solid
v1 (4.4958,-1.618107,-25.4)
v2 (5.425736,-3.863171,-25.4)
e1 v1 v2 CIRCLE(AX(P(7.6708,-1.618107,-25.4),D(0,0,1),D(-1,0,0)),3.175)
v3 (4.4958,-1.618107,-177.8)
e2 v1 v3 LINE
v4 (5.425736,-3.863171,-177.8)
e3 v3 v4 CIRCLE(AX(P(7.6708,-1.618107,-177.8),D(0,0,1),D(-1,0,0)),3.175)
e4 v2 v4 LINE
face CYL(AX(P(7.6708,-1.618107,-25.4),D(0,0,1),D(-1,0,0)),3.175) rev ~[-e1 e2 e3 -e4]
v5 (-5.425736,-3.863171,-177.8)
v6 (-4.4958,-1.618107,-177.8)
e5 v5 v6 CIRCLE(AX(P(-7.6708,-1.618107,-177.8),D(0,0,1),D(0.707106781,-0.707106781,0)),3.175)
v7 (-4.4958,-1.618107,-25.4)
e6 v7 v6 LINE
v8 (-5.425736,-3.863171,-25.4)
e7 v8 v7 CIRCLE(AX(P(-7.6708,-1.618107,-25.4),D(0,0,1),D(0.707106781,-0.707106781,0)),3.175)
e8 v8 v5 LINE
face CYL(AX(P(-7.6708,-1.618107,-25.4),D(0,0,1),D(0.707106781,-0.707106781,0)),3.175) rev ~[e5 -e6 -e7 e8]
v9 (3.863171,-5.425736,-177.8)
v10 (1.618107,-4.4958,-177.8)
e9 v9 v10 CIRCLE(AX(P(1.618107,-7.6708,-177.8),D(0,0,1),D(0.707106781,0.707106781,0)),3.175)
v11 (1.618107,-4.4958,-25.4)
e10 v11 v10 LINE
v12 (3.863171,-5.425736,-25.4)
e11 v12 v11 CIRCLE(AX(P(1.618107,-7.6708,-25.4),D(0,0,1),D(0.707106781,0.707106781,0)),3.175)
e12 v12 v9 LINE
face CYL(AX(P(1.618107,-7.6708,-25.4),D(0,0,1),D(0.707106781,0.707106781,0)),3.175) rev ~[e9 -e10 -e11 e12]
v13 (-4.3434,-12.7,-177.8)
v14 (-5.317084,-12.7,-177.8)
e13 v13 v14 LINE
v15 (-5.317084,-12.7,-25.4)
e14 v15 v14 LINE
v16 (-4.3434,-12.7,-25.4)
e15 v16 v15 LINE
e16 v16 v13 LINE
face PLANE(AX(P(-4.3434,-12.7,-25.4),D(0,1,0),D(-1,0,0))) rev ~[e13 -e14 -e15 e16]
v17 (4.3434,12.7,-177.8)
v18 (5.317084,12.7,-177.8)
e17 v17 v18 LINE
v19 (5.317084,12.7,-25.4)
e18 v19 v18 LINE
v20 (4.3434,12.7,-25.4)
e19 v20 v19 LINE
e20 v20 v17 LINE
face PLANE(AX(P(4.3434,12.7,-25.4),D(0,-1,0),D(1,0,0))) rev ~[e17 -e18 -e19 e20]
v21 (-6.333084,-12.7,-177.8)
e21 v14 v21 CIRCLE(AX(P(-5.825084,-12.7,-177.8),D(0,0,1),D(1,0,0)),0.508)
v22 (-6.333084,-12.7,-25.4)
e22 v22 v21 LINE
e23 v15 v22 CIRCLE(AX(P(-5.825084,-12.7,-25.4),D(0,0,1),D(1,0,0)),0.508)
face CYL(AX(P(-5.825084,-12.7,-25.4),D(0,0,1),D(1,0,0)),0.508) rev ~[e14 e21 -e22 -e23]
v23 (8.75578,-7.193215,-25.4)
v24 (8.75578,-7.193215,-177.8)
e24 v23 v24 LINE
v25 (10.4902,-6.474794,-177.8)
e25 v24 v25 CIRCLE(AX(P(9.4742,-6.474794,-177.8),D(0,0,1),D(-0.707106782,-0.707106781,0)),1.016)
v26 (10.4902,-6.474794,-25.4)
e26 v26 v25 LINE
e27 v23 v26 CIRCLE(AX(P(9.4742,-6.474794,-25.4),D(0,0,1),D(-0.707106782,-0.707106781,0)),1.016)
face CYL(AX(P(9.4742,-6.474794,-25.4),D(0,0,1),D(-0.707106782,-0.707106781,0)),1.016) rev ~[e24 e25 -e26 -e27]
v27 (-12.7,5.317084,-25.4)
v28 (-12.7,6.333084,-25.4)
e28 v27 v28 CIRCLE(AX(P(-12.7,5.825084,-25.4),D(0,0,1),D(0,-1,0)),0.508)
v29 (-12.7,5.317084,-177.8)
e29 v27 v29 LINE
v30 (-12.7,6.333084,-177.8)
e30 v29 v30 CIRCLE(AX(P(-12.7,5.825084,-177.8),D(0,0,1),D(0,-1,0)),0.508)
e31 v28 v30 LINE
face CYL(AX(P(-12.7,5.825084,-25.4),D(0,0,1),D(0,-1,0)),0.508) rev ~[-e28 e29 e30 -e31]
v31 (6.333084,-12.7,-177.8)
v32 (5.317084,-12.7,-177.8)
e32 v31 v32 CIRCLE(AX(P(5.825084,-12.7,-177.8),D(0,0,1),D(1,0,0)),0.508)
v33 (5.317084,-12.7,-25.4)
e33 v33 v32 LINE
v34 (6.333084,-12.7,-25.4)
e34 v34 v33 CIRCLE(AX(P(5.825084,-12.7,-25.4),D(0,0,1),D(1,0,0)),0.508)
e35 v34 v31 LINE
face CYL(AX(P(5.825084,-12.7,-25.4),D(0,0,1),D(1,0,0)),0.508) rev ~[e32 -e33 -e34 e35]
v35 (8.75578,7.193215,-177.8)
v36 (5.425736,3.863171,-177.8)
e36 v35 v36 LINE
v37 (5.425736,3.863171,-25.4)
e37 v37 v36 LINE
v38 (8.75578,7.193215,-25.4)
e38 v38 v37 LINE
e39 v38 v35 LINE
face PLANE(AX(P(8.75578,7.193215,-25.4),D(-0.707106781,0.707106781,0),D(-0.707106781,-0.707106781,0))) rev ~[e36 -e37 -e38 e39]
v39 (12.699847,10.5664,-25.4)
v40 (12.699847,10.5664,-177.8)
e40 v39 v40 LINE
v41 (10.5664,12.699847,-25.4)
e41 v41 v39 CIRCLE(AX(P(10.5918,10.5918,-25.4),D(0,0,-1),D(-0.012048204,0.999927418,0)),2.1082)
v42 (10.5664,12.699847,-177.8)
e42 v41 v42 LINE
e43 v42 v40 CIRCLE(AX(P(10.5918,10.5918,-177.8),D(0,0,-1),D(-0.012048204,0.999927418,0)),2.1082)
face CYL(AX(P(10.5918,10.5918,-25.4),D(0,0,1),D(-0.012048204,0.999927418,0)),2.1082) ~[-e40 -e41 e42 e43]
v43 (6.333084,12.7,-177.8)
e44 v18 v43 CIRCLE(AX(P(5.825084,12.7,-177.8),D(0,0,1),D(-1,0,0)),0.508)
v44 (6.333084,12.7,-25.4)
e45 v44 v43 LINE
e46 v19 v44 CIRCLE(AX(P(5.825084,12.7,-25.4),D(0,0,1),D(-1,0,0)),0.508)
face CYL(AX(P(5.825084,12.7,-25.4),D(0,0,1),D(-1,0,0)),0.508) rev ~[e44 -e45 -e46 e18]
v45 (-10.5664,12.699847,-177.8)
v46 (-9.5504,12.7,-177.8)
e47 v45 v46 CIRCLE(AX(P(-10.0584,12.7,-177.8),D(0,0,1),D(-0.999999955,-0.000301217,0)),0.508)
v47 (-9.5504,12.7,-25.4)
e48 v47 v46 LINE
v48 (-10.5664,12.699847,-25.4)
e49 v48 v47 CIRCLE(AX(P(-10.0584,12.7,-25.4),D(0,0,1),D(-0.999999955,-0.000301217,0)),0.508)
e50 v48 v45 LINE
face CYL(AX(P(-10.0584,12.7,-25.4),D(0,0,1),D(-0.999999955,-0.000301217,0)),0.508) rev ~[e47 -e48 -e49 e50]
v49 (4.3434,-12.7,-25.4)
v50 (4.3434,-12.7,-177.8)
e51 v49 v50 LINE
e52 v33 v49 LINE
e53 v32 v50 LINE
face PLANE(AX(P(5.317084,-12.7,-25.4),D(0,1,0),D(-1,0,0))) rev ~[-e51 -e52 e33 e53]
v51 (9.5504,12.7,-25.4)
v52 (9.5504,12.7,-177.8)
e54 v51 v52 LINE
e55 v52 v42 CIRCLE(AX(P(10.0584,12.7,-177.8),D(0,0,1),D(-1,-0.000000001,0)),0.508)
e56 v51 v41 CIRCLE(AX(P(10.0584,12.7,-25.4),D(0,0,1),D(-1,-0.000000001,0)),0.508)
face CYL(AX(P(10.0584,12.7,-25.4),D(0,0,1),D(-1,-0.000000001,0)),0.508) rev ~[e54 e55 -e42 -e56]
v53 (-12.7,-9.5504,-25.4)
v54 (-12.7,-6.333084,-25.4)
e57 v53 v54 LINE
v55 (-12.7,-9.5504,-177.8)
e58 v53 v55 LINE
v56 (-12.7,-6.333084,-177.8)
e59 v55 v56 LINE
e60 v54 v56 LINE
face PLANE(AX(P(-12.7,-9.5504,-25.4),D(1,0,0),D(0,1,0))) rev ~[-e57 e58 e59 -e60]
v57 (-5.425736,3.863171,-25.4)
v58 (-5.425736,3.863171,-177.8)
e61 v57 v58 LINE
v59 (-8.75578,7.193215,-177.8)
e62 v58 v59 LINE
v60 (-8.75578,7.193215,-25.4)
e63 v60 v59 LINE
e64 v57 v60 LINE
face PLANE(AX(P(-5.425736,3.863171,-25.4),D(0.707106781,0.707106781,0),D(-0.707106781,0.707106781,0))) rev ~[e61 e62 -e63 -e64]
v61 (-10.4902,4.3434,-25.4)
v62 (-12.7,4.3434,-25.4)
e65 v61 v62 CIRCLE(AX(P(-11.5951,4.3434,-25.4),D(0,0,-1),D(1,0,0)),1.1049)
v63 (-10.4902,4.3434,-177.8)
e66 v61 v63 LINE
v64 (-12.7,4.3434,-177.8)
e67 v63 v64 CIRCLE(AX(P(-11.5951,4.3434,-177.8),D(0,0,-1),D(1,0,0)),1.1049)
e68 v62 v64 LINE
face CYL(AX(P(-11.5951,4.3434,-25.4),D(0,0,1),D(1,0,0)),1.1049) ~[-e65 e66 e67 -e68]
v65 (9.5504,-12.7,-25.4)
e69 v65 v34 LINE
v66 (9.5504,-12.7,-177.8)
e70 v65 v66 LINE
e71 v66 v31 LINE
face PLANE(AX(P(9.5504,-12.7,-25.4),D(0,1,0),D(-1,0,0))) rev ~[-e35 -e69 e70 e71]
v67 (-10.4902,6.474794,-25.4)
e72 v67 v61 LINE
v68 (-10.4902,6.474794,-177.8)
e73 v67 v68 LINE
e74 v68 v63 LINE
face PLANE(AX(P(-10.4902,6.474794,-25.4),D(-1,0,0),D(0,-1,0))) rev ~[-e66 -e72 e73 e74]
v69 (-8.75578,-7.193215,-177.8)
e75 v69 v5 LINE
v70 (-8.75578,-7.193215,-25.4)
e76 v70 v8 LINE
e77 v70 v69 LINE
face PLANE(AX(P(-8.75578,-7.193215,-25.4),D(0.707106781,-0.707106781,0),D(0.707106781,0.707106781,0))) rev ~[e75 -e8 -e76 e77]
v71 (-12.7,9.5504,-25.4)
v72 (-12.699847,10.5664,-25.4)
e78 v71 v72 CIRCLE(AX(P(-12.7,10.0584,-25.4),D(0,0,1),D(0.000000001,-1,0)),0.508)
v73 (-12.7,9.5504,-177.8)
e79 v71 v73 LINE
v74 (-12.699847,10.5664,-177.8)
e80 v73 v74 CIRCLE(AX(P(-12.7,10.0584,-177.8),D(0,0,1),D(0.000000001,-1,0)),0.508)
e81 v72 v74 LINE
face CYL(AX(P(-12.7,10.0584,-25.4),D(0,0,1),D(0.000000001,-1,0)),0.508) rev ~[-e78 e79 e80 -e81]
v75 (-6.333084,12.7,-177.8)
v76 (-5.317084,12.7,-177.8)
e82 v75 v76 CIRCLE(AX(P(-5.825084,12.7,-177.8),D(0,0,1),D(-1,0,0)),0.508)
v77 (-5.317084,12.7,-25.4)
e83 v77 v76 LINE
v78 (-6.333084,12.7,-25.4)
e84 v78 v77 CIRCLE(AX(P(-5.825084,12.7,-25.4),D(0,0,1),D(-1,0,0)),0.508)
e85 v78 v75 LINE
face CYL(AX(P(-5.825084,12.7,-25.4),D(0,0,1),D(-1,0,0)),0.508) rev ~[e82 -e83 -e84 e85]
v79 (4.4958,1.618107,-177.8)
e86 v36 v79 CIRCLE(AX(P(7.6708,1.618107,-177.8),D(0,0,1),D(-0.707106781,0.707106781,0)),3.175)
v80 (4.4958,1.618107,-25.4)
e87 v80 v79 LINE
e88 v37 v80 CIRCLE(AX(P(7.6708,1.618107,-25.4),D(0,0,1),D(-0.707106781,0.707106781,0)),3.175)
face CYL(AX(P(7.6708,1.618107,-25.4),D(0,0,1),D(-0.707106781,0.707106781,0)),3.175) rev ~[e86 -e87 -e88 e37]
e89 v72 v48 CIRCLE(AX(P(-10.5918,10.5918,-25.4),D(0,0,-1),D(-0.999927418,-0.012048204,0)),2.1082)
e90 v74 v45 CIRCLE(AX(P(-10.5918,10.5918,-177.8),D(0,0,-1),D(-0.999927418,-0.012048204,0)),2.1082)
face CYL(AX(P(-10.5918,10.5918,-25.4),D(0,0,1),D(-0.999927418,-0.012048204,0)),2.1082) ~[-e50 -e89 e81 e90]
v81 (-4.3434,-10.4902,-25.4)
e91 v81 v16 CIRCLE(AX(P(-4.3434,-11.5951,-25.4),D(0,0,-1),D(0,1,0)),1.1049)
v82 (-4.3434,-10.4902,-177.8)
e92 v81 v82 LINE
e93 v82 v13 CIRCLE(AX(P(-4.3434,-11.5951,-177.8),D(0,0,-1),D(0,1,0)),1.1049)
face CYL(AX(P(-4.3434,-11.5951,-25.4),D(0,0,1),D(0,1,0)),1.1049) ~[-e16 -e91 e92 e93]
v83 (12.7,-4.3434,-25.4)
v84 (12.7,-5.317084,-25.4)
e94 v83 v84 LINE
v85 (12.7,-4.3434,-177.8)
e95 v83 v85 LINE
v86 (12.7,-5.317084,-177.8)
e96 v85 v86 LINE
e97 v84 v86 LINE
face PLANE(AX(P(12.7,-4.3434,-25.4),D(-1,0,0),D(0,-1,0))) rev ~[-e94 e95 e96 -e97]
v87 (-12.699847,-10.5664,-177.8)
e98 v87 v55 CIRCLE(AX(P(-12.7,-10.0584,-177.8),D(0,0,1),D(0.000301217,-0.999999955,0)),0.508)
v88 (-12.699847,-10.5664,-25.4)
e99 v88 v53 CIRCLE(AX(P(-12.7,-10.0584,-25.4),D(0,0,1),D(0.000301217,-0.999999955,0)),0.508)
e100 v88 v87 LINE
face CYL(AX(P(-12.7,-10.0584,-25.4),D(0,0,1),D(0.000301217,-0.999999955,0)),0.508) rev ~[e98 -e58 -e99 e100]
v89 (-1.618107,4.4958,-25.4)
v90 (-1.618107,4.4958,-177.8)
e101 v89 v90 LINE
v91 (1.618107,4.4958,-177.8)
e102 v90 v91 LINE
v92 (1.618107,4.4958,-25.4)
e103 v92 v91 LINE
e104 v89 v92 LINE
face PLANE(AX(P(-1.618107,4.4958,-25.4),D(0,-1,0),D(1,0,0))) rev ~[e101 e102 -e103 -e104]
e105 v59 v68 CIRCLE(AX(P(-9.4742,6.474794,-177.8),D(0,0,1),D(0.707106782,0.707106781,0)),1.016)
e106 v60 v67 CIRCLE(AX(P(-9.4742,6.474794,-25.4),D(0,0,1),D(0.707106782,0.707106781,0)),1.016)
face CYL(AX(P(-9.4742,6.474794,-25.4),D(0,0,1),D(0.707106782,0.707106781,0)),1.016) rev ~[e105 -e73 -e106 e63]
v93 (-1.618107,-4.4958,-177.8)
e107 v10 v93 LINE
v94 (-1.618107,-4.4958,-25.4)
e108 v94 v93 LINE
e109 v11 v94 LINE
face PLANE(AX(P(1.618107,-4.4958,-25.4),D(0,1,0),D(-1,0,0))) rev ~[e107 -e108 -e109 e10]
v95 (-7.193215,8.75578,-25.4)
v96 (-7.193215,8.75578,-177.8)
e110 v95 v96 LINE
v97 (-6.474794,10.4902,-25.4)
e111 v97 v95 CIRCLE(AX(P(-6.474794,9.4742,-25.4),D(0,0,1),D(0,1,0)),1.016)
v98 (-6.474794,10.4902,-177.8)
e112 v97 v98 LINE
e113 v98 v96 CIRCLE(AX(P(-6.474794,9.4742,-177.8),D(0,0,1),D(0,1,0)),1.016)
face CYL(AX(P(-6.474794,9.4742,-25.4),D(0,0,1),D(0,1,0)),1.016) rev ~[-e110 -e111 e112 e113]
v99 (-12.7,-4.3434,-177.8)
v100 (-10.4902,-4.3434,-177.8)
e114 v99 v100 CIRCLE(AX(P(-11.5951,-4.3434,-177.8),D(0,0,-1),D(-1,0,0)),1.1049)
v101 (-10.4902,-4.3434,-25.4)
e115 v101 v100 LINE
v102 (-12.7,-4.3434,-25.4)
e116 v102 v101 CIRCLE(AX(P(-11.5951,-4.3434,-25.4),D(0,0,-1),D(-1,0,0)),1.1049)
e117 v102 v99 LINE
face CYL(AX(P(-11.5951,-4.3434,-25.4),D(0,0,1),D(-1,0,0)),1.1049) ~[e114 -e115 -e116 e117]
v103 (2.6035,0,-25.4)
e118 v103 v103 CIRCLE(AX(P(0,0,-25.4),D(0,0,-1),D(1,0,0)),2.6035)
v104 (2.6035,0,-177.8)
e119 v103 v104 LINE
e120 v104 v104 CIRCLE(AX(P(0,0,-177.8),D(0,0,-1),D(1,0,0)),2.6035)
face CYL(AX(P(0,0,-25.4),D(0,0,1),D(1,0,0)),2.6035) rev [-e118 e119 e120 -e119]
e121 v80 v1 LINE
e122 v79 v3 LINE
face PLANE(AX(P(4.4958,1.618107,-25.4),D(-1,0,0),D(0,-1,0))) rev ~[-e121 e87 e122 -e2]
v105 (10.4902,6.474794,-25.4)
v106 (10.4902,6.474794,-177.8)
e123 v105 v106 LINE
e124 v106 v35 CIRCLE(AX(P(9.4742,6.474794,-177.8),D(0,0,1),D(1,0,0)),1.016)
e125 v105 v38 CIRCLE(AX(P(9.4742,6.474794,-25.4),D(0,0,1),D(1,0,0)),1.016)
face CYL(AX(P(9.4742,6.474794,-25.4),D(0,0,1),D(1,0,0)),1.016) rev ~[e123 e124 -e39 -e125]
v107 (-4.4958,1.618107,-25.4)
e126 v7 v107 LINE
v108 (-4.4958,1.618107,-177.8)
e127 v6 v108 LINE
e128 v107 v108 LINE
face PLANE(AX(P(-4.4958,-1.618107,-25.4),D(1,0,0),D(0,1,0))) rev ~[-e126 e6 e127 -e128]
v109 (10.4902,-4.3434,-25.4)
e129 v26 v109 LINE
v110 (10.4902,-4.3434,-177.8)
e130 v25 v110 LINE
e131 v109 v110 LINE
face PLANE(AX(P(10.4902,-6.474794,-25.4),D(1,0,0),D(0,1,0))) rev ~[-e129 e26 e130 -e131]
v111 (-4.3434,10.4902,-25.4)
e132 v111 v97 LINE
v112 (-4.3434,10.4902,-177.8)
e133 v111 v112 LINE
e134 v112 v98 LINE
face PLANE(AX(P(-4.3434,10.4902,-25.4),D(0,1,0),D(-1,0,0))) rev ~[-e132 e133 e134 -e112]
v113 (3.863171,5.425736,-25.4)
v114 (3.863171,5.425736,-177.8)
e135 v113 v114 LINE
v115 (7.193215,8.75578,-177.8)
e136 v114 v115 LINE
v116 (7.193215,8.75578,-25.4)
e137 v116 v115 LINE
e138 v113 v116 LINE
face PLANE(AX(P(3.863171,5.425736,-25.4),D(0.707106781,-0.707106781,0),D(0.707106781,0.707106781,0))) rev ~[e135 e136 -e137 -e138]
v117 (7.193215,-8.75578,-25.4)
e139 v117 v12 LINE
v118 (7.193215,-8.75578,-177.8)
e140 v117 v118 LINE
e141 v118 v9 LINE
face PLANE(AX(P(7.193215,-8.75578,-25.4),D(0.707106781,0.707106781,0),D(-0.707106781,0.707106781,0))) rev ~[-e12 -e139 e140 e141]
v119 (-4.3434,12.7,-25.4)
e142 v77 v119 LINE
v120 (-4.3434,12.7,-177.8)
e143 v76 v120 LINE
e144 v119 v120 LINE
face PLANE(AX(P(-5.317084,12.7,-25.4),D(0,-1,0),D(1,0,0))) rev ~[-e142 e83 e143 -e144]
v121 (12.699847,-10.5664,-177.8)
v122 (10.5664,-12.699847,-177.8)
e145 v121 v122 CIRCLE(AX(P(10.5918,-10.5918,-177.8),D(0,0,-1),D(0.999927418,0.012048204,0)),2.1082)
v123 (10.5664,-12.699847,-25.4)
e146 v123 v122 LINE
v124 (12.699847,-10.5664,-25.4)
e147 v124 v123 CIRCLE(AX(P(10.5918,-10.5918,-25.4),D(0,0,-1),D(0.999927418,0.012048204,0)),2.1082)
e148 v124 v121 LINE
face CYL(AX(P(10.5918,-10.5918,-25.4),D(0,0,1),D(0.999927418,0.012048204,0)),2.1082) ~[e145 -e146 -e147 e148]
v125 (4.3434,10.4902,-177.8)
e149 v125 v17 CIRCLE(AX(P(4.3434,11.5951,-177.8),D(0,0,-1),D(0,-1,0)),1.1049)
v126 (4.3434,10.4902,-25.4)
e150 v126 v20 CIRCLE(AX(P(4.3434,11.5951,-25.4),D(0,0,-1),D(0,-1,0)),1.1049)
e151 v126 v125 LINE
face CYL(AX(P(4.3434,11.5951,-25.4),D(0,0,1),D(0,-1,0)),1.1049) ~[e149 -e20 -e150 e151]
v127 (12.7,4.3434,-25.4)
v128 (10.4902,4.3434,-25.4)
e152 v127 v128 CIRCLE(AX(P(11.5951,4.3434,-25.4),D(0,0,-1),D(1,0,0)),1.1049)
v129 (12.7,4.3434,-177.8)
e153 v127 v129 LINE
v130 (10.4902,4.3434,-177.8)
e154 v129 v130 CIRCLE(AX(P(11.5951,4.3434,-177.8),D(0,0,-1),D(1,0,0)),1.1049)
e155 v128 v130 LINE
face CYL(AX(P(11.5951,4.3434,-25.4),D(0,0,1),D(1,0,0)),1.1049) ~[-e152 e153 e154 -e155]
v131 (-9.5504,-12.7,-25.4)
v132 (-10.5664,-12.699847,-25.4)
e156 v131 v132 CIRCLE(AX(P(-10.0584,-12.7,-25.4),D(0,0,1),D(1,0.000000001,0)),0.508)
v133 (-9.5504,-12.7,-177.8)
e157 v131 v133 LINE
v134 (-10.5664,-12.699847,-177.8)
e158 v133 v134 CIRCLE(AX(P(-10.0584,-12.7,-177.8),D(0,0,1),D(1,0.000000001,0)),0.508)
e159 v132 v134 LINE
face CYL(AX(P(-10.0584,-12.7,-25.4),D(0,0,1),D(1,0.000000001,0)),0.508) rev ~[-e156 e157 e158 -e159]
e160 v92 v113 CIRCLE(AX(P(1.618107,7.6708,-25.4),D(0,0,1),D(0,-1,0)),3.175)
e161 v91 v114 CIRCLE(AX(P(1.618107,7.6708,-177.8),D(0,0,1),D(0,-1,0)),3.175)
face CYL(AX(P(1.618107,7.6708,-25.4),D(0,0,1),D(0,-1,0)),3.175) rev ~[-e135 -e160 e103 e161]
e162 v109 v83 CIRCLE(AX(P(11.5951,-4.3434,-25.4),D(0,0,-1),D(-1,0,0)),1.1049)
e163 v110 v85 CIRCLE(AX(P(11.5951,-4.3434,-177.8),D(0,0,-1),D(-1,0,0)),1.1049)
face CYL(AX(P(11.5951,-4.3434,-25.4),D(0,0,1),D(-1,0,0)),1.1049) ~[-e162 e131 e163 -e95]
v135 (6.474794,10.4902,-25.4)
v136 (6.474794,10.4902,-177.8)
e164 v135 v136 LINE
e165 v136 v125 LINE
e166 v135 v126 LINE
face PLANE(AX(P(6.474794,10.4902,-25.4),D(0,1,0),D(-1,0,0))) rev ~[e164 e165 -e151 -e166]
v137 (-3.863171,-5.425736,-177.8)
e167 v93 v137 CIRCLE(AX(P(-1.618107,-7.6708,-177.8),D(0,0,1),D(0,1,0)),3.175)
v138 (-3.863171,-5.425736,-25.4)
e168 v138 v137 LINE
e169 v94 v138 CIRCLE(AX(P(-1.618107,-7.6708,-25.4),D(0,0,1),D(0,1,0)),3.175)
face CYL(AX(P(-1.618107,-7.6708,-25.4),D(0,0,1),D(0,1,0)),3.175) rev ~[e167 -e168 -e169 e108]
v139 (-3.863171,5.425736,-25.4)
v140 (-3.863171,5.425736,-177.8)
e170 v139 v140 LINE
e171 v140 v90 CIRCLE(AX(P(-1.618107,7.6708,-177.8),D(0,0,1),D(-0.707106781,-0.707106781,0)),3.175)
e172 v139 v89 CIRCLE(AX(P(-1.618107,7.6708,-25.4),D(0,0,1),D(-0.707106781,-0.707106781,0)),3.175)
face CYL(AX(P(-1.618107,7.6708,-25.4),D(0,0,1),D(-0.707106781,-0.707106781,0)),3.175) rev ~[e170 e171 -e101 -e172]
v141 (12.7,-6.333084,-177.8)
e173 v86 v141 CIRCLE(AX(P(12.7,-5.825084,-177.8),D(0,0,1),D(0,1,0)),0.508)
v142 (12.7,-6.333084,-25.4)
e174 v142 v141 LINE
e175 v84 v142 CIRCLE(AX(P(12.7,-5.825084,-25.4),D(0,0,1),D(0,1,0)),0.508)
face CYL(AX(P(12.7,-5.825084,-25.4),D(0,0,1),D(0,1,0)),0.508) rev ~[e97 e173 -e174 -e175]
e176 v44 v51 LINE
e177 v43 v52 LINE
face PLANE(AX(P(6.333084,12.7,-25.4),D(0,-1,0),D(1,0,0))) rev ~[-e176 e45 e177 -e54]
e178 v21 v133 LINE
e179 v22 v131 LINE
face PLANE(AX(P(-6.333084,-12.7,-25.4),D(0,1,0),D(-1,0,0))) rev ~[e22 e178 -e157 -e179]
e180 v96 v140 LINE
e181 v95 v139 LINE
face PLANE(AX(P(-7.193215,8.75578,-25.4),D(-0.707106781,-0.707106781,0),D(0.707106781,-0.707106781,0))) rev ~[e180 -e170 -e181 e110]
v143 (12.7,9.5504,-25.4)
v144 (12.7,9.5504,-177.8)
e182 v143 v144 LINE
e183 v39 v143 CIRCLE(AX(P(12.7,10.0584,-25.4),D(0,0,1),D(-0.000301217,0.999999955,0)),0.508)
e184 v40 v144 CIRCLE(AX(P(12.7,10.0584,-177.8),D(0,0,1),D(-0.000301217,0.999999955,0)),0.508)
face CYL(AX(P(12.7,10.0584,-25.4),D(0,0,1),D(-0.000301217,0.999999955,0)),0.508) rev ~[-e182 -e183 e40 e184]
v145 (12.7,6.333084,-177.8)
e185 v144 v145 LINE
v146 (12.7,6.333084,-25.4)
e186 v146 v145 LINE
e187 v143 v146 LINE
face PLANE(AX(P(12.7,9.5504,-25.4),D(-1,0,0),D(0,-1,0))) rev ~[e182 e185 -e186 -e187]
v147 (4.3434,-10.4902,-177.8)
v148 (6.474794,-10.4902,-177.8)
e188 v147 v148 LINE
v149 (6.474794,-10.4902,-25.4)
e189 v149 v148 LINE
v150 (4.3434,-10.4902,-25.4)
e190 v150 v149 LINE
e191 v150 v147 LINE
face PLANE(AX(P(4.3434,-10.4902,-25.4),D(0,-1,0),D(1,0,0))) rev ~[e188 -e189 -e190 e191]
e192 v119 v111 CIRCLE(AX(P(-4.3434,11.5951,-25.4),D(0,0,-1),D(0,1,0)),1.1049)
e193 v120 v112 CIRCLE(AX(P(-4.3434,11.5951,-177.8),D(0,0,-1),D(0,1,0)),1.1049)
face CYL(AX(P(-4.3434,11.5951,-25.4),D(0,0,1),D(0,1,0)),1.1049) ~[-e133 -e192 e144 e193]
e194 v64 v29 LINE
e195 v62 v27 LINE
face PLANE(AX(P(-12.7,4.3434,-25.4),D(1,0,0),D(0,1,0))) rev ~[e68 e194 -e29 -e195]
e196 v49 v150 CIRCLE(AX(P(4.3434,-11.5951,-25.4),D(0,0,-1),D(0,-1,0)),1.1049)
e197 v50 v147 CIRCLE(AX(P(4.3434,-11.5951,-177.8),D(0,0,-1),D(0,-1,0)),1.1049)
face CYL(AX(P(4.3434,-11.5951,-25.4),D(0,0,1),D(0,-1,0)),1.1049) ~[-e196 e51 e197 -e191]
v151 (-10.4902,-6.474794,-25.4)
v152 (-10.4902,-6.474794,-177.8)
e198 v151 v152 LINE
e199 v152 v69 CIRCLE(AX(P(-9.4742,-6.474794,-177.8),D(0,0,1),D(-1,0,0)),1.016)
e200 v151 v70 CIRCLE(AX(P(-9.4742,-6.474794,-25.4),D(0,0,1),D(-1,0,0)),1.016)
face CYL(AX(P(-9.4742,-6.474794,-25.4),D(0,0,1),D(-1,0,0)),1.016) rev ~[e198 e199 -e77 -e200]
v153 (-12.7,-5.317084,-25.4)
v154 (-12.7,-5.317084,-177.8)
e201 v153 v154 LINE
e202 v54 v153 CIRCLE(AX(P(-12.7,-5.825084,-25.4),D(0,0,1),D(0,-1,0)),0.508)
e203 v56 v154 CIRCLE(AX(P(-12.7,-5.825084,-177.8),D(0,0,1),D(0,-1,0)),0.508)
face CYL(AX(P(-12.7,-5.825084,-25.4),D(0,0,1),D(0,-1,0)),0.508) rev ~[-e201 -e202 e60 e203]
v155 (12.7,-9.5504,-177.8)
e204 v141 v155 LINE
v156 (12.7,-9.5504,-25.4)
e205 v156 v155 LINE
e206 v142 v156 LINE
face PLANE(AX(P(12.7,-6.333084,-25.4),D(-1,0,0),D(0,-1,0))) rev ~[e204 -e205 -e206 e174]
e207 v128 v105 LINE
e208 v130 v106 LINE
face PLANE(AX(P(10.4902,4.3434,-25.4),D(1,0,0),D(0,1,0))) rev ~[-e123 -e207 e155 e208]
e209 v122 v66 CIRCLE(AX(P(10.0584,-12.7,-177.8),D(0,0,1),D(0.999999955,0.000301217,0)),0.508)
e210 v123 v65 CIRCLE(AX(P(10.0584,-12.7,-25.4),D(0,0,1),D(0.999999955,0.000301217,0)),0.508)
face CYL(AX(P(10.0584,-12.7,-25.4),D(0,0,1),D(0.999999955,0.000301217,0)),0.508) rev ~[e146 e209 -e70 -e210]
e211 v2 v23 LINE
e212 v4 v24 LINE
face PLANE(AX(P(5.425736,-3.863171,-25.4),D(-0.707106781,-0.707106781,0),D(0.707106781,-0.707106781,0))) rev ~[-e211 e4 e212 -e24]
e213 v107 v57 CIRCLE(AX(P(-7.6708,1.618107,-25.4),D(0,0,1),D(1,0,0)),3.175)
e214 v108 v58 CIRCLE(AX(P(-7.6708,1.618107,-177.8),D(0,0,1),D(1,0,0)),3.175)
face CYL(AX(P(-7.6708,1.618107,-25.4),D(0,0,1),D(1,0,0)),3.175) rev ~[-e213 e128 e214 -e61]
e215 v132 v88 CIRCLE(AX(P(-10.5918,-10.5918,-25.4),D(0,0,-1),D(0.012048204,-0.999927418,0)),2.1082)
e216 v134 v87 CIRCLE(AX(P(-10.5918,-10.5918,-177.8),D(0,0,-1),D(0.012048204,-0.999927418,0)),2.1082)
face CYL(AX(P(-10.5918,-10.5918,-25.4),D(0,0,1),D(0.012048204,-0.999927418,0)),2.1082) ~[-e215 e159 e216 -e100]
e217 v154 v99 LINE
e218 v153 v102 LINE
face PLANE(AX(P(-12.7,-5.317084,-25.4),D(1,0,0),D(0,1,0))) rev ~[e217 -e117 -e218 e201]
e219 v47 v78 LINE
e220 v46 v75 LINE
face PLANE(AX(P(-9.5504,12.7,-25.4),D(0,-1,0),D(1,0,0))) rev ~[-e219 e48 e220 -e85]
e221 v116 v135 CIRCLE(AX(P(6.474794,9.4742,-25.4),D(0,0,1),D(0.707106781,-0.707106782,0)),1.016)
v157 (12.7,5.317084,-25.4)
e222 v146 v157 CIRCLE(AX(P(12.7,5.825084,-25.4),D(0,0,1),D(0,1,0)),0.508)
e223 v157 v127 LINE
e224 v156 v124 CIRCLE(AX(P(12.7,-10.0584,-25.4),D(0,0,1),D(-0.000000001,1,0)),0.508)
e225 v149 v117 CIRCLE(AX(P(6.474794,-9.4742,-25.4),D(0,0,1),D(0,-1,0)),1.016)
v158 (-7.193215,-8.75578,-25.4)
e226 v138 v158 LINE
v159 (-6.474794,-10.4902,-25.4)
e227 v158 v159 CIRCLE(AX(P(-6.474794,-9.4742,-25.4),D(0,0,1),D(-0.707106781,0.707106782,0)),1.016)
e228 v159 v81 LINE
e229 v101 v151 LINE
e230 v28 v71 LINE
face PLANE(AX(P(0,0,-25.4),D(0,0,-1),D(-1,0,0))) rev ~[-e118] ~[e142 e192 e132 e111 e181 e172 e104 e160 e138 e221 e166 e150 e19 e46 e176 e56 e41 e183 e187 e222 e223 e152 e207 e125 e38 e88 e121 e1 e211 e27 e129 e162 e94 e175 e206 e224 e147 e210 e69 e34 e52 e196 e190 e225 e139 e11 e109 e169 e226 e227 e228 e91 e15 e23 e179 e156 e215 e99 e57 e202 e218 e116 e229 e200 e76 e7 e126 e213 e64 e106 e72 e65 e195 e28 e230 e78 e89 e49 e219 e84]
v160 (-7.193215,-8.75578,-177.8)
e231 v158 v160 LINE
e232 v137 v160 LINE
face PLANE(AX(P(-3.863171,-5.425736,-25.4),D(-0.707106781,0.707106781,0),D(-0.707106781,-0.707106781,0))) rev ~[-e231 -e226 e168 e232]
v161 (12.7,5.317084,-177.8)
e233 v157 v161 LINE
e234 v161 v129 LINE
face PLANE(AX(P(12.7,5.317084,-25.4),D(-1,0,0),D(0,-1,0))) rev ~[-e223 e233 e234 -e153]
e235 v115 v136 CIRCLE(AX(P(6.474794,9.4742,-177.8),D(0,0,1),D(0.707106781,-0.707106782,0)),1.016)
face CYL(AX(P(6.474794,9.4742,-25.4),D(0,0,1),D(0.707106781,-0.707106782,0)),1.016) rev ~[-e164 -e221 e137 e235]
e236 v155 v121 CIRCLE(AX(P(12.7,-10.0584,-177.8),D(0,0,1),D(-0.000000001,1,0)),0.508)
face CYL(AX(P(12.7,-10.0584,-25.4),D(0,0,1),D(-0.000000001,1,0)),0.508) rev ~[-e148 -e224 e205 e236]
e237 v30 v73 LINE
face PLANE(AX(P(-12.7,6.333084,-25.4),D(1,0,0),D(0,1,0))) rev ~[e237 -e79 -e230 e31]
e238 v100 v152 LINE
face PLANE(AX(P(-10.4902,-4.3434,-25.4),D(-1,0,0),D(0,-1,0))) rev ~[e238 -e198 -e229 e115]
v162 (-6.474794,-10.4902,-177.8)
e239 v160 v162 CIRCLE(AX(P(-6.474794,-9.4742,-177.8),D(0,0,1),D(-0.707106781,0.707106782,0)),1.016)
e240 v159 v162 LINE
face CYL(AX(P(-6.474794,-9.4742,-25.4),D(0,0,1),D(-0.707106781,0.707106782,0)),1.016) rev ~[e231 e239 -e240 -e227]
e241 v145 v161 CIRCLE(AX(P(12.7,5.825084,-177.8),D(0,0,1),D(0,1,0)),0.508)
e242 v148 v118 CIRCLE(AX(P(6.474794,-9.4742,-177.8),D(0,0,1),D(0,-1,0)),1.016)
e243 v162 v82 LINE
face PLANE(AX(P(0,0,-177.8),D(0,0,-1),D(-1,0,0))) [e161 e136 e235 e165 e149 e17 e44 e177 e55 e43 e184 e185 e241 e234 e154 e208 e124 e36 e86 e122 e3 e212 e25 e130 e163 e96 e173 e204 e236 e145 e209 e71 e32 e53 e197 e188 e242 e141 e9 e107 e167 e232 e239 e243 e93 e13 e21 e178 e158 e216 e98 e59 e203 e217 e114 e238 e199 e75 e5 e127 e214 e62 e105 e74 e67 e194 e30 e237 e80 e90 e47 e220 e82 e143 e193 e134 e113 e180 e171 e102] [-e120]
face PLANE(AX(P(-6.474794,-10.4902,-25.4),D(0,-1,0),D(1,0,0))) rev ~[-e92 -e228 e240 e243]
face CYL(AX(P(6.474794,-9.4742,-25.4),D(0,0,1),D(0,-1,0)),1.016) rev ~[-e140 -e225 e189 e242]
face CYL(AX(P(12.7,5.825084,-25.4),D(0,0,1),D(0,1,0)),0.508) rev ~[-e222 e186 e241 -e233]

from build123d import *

# Parameters (mm, degrees)
SKETCH1_R           = 2.6035
BOSS_EXTRUDE1_DEPTH = 152.4


with BuildPart() as part:
    # Sketch1 → Boss-Extrude1 (new body)
    with BuildSketch(Plane(origin=(0, 0, -25.4), x_dir=(-1, 0, 0), z_dir=(0, 0, -1))):
        with BuildLine():
            Line((12.7, -9.5504), (12.7, -6.3330836))
            ThreePointArc((12.7, -6.3330836), (12.192, -5.8250836), (12.7, -5.3170836))
            Line((12.7, -5.3170836), (12.7, -4.3434))
            ThreePointArc((12.7, -4.3434), (11.5951, -3.2385), (10.4902, -4.3434))
            Line((10.4902, -4.3434), (10.4902, -6.474794456))
            ThreePointArc((10.4902, -6.474794456), (9.863006367, -7.413456061), (8.75577951, -7.193214945))
            Line((8.75577951, -7.193214945), (5.42573597, -3.863171405))
            ThreePointArc((5.42573597, -3.863171405), (4.737482484, -2.833127272), (4.4958, -1.618107374))
            Line((4.4958, -1.618107374), (4.4958, 1.618107374))
            ThreePointArc((4.4958, 1.618107374), (4.737482484, 2.833127272), (5.42573597, 3.863171405))
            Line((5.42573597, 3.863171405), (8.75577951, 7.193214945))
            ThreePointArc((8.75577951, 7.193214945), (9.863006367, 7.413456061), (10.4902, 6.474794456))
            Line((10.4902, 6.474794456), (10.4902, 4.343399971))
            ThreePointArc((10.4902, 4.343399971), (11.5951, 3.238499971), (12.7, 4.343399971))
            Line((12.7, 4.343399971), (12.7, 5.3170836))
            ThreePointArc((12.7, 5.3170836), (12.192, 5.8250836), (12.7, 6.3330836))
            Line((12.7, 6.3330836), (12.7, 9.5504))
            ThreePointArc((12.7, 9.5504), (12.192000006, 10.058323491), (12.699846982, 10.566399977))
            ThreePointArc((12.699846982, 10.566399977), (12.082522516, 12.082522516), (10.566399977, 12.699846982))
            ThreePointArc((10.566399977, 12.699846982), (10.058323491, 12.192000006), (9.5504, 12.7))
            Line((9.5504, 12.7), (6.3330836, 12.7))
            ThreePointArc((6.3330836, 12.7), (5.8250836, 12.192), (5.3170836, 12.7))
            Line((5.3170836, 12.7), (4.3434, 12.7))
            ThreePointArc((4.3434, 12.7), (3.2385, 11.5951), (4.3434, 10.4902))
            Line((4.3434, 10.4902), (6.474794456, 10.4902))
            ThreePointArc((6.474794456, 10.4902), (7.413456061, 9.863006367), (7.193214945, 8.75577951))
            Line((7.193214945, 8.75577951), (3.863171405, 5.42573597))
            ThreePointArc((3.863171405, 5.42573597), (2.833127272, 4.737482484), (1.618107374, 4.4958))
            Line((1.618107374, 4.4958), (-1.618107374, 4.4958))
            ThreePointArc((-1.618107374, 4.4958), (-2.833127272, 4.737482484), (-3.863171405, 5.42573597))
            Line((-3.863171405, 5.42573597), (-7.193214945, 8.75577951))
            ThreePointArc((-7.193214945, 8.75577951), (-7.413456061, 9.863006367), (-6.474794456, 10.4902))
            Line((-6.474794456, 10.4902), (-4.343399971, 10.4902))
            ThreePointArc((-4.343399971, 10.4902), (-3.238499971, 11.5951), (-4.343399971, 12.7))
            Line((-4.343399971, 12.7), (-5.3170836, 12.7))
            ThreePointArc((-5.3170836, 12.7), (-5.8250836, 12.192), (-6.3330836, 12.7))
            Line((-6.3330836, 12.7), (-9.5504, 12.7))
            ThreePointArc((-9.5504, 12.7), (-10.058323491, 12.192000006), (-10.566399977, 12.699846982))
            ThreePointArc((-10.566399977, 12.699846982), (-12.082522516, 12.082522516), (-12.699846982, 10.566399977))
            ThreePointArc((-12.699846982, 10.566399977), (-12.192000006, 10.058323491), (-12.7, 9.5504))
            Line((-12.7, 9.5504), (-12.7, 6.3330836))
            ThreePointArc((-12.7, 6.3330836), (-12.192, 5.8250836), (-12.7, 5.3170836))
            Line((-12.7, 5.3170836), (-12.7, 4.3434))
            ThreePointArc((-12.7, 4.3434), (-11.5951, 3.2385), (-10.4902, 4.3434))
            Line((-10.4902, 4.3434), (-10.4902, 6.474794456))
            ThreePointArc((-10.4902, 6.474794456), (-9.863006367, 7.413456061), (-8.75577951, 7.193214945))
            Line((-8.75577951, 7.193214945), (-5.42573597, 3.863171405))
            ThreePointArc((-5.42573597, 3.863171405), (-4.737482484, 2.833127272), (-4.4958, 1.618107374))
            Line((-4.4958, 1.618107374), (-4.4958, -1.618107374))
            ThreePointArc((-4.4958, -1.618107374), (-4.737482484, -2.833127272), (-5.42573597, -3.863171405))
            Line((-5.42573597, -3.863171405), (-8.75577951, -7.193214945))
            ThreePointArc((-8.75577951, -7.193214945), (-9.863006367, -7.413456061), (-10.4902, -6.474794456))
            Line((-10.4902, -6.474794456), (-10.4902, -4.343399971))
            ThreePointArc((-10.4902, -4.343399971), (-11.5951, -3.238499971), (-12.7, -4.343399971))
            Line((-12.7, -4.343399971), (-12.7, -5.3170836))
            ThreePointArc((-12.7, -5.3170836), (-12.192, -5.8250836), (-12.7, -6.3330836))
            Line((-12.7, -6.3330836), (-12.7, -9.5504))
            ThreePointArc((-12.7, -9.5504), (-12.192000006, -10.058323491), (-12.699846982, -10.566399977))
            ThreePointArc((-12.699846982, -10.566399977), (-12.082522516, -12.082522516), (-10.566399977, -12.699846982))
            ThreePointArc((-10.566399977, -12.699846982), (-10.058323491, -12.192000006), (-9.5504, -12.7))
            Line((-9.5504, -12.7), (-6.3330836, -12.7))
            ThreePointArc((-6.3330836, -12.7), (-5.8250836, -12.192), (-5.3170836, -12.7))
            Line((-5.3170836, -12.7), (-4.3434, -12.7))
            ThreePointArc((-4.3434, -12.7), (-3.2385, -11.5951), (-4.3434, -10.4902))
            Line((-4.3434, -10.4902), (-6.474794456, -10.4902))
            ThreePointArc((-6.474794456, -10.4902), (-7.413456061, -9.863006367), (-7.193214945, -8.75577951))
            Line((-7.193214945, -8.75577951), (-3.863171405, -5.42573597))
            ThreePointArc((-3.863171405, -5.42573597), (-2.833127272, -4.737482484), (-1.618107374, -4.4958))
            Line((-1.618107374, -4.4958), (1.618107374, -4.4958))
            ThreePointArc((1.618107374, -4.4958), (2.833127272, -4.737482484), (3.863171405, -5.42573597))
            Line((3.863171405, -5.42573597), (7.193214945, -8.75577951))
            ThreePointArc((7.193214945, -8.75577951), (7.413456061, -9.863006367), (6.474794456, -10.4902))
            Line((6.474794456, -10.4902), (4.343399971, -10.4902))
            ThreePointArc((4.343399971, -10.4902), (3.238499971, -11.5951), (4.343399971, -12.7))
            Line((4.343399971, -12.7), (5.3170836, -12.7))
            ThreePointArc((5.3170836, -12.7), (5.8250836, -12.192), (6.3330836, -12.7))
            Line((6.3330836, -12.7), (9.5504, -12.7))
            ThreePointArc((9.5504, -12.7), (10.058323491, -12.192000006), (10.566399977, -12.699846982))
            ThreePointArc((10.566399977, -12.699846982), (12.082522516, -12.082522516), (12.699846982, -10.566399977))
            ThreePointArc((12.699846982, -10.566399977), (12.192000006, -10.058323491), (12.7, -9.5504))
        make_face()
        with Locations(Location((0, 0, 0), (0, 0, 180))):
            Circle(SKETCH1_R, mode=Mode.SUBTRACT)
    extrude(amount=BOSS_EXTRUDE1_DEPTH)


solid = part.part
